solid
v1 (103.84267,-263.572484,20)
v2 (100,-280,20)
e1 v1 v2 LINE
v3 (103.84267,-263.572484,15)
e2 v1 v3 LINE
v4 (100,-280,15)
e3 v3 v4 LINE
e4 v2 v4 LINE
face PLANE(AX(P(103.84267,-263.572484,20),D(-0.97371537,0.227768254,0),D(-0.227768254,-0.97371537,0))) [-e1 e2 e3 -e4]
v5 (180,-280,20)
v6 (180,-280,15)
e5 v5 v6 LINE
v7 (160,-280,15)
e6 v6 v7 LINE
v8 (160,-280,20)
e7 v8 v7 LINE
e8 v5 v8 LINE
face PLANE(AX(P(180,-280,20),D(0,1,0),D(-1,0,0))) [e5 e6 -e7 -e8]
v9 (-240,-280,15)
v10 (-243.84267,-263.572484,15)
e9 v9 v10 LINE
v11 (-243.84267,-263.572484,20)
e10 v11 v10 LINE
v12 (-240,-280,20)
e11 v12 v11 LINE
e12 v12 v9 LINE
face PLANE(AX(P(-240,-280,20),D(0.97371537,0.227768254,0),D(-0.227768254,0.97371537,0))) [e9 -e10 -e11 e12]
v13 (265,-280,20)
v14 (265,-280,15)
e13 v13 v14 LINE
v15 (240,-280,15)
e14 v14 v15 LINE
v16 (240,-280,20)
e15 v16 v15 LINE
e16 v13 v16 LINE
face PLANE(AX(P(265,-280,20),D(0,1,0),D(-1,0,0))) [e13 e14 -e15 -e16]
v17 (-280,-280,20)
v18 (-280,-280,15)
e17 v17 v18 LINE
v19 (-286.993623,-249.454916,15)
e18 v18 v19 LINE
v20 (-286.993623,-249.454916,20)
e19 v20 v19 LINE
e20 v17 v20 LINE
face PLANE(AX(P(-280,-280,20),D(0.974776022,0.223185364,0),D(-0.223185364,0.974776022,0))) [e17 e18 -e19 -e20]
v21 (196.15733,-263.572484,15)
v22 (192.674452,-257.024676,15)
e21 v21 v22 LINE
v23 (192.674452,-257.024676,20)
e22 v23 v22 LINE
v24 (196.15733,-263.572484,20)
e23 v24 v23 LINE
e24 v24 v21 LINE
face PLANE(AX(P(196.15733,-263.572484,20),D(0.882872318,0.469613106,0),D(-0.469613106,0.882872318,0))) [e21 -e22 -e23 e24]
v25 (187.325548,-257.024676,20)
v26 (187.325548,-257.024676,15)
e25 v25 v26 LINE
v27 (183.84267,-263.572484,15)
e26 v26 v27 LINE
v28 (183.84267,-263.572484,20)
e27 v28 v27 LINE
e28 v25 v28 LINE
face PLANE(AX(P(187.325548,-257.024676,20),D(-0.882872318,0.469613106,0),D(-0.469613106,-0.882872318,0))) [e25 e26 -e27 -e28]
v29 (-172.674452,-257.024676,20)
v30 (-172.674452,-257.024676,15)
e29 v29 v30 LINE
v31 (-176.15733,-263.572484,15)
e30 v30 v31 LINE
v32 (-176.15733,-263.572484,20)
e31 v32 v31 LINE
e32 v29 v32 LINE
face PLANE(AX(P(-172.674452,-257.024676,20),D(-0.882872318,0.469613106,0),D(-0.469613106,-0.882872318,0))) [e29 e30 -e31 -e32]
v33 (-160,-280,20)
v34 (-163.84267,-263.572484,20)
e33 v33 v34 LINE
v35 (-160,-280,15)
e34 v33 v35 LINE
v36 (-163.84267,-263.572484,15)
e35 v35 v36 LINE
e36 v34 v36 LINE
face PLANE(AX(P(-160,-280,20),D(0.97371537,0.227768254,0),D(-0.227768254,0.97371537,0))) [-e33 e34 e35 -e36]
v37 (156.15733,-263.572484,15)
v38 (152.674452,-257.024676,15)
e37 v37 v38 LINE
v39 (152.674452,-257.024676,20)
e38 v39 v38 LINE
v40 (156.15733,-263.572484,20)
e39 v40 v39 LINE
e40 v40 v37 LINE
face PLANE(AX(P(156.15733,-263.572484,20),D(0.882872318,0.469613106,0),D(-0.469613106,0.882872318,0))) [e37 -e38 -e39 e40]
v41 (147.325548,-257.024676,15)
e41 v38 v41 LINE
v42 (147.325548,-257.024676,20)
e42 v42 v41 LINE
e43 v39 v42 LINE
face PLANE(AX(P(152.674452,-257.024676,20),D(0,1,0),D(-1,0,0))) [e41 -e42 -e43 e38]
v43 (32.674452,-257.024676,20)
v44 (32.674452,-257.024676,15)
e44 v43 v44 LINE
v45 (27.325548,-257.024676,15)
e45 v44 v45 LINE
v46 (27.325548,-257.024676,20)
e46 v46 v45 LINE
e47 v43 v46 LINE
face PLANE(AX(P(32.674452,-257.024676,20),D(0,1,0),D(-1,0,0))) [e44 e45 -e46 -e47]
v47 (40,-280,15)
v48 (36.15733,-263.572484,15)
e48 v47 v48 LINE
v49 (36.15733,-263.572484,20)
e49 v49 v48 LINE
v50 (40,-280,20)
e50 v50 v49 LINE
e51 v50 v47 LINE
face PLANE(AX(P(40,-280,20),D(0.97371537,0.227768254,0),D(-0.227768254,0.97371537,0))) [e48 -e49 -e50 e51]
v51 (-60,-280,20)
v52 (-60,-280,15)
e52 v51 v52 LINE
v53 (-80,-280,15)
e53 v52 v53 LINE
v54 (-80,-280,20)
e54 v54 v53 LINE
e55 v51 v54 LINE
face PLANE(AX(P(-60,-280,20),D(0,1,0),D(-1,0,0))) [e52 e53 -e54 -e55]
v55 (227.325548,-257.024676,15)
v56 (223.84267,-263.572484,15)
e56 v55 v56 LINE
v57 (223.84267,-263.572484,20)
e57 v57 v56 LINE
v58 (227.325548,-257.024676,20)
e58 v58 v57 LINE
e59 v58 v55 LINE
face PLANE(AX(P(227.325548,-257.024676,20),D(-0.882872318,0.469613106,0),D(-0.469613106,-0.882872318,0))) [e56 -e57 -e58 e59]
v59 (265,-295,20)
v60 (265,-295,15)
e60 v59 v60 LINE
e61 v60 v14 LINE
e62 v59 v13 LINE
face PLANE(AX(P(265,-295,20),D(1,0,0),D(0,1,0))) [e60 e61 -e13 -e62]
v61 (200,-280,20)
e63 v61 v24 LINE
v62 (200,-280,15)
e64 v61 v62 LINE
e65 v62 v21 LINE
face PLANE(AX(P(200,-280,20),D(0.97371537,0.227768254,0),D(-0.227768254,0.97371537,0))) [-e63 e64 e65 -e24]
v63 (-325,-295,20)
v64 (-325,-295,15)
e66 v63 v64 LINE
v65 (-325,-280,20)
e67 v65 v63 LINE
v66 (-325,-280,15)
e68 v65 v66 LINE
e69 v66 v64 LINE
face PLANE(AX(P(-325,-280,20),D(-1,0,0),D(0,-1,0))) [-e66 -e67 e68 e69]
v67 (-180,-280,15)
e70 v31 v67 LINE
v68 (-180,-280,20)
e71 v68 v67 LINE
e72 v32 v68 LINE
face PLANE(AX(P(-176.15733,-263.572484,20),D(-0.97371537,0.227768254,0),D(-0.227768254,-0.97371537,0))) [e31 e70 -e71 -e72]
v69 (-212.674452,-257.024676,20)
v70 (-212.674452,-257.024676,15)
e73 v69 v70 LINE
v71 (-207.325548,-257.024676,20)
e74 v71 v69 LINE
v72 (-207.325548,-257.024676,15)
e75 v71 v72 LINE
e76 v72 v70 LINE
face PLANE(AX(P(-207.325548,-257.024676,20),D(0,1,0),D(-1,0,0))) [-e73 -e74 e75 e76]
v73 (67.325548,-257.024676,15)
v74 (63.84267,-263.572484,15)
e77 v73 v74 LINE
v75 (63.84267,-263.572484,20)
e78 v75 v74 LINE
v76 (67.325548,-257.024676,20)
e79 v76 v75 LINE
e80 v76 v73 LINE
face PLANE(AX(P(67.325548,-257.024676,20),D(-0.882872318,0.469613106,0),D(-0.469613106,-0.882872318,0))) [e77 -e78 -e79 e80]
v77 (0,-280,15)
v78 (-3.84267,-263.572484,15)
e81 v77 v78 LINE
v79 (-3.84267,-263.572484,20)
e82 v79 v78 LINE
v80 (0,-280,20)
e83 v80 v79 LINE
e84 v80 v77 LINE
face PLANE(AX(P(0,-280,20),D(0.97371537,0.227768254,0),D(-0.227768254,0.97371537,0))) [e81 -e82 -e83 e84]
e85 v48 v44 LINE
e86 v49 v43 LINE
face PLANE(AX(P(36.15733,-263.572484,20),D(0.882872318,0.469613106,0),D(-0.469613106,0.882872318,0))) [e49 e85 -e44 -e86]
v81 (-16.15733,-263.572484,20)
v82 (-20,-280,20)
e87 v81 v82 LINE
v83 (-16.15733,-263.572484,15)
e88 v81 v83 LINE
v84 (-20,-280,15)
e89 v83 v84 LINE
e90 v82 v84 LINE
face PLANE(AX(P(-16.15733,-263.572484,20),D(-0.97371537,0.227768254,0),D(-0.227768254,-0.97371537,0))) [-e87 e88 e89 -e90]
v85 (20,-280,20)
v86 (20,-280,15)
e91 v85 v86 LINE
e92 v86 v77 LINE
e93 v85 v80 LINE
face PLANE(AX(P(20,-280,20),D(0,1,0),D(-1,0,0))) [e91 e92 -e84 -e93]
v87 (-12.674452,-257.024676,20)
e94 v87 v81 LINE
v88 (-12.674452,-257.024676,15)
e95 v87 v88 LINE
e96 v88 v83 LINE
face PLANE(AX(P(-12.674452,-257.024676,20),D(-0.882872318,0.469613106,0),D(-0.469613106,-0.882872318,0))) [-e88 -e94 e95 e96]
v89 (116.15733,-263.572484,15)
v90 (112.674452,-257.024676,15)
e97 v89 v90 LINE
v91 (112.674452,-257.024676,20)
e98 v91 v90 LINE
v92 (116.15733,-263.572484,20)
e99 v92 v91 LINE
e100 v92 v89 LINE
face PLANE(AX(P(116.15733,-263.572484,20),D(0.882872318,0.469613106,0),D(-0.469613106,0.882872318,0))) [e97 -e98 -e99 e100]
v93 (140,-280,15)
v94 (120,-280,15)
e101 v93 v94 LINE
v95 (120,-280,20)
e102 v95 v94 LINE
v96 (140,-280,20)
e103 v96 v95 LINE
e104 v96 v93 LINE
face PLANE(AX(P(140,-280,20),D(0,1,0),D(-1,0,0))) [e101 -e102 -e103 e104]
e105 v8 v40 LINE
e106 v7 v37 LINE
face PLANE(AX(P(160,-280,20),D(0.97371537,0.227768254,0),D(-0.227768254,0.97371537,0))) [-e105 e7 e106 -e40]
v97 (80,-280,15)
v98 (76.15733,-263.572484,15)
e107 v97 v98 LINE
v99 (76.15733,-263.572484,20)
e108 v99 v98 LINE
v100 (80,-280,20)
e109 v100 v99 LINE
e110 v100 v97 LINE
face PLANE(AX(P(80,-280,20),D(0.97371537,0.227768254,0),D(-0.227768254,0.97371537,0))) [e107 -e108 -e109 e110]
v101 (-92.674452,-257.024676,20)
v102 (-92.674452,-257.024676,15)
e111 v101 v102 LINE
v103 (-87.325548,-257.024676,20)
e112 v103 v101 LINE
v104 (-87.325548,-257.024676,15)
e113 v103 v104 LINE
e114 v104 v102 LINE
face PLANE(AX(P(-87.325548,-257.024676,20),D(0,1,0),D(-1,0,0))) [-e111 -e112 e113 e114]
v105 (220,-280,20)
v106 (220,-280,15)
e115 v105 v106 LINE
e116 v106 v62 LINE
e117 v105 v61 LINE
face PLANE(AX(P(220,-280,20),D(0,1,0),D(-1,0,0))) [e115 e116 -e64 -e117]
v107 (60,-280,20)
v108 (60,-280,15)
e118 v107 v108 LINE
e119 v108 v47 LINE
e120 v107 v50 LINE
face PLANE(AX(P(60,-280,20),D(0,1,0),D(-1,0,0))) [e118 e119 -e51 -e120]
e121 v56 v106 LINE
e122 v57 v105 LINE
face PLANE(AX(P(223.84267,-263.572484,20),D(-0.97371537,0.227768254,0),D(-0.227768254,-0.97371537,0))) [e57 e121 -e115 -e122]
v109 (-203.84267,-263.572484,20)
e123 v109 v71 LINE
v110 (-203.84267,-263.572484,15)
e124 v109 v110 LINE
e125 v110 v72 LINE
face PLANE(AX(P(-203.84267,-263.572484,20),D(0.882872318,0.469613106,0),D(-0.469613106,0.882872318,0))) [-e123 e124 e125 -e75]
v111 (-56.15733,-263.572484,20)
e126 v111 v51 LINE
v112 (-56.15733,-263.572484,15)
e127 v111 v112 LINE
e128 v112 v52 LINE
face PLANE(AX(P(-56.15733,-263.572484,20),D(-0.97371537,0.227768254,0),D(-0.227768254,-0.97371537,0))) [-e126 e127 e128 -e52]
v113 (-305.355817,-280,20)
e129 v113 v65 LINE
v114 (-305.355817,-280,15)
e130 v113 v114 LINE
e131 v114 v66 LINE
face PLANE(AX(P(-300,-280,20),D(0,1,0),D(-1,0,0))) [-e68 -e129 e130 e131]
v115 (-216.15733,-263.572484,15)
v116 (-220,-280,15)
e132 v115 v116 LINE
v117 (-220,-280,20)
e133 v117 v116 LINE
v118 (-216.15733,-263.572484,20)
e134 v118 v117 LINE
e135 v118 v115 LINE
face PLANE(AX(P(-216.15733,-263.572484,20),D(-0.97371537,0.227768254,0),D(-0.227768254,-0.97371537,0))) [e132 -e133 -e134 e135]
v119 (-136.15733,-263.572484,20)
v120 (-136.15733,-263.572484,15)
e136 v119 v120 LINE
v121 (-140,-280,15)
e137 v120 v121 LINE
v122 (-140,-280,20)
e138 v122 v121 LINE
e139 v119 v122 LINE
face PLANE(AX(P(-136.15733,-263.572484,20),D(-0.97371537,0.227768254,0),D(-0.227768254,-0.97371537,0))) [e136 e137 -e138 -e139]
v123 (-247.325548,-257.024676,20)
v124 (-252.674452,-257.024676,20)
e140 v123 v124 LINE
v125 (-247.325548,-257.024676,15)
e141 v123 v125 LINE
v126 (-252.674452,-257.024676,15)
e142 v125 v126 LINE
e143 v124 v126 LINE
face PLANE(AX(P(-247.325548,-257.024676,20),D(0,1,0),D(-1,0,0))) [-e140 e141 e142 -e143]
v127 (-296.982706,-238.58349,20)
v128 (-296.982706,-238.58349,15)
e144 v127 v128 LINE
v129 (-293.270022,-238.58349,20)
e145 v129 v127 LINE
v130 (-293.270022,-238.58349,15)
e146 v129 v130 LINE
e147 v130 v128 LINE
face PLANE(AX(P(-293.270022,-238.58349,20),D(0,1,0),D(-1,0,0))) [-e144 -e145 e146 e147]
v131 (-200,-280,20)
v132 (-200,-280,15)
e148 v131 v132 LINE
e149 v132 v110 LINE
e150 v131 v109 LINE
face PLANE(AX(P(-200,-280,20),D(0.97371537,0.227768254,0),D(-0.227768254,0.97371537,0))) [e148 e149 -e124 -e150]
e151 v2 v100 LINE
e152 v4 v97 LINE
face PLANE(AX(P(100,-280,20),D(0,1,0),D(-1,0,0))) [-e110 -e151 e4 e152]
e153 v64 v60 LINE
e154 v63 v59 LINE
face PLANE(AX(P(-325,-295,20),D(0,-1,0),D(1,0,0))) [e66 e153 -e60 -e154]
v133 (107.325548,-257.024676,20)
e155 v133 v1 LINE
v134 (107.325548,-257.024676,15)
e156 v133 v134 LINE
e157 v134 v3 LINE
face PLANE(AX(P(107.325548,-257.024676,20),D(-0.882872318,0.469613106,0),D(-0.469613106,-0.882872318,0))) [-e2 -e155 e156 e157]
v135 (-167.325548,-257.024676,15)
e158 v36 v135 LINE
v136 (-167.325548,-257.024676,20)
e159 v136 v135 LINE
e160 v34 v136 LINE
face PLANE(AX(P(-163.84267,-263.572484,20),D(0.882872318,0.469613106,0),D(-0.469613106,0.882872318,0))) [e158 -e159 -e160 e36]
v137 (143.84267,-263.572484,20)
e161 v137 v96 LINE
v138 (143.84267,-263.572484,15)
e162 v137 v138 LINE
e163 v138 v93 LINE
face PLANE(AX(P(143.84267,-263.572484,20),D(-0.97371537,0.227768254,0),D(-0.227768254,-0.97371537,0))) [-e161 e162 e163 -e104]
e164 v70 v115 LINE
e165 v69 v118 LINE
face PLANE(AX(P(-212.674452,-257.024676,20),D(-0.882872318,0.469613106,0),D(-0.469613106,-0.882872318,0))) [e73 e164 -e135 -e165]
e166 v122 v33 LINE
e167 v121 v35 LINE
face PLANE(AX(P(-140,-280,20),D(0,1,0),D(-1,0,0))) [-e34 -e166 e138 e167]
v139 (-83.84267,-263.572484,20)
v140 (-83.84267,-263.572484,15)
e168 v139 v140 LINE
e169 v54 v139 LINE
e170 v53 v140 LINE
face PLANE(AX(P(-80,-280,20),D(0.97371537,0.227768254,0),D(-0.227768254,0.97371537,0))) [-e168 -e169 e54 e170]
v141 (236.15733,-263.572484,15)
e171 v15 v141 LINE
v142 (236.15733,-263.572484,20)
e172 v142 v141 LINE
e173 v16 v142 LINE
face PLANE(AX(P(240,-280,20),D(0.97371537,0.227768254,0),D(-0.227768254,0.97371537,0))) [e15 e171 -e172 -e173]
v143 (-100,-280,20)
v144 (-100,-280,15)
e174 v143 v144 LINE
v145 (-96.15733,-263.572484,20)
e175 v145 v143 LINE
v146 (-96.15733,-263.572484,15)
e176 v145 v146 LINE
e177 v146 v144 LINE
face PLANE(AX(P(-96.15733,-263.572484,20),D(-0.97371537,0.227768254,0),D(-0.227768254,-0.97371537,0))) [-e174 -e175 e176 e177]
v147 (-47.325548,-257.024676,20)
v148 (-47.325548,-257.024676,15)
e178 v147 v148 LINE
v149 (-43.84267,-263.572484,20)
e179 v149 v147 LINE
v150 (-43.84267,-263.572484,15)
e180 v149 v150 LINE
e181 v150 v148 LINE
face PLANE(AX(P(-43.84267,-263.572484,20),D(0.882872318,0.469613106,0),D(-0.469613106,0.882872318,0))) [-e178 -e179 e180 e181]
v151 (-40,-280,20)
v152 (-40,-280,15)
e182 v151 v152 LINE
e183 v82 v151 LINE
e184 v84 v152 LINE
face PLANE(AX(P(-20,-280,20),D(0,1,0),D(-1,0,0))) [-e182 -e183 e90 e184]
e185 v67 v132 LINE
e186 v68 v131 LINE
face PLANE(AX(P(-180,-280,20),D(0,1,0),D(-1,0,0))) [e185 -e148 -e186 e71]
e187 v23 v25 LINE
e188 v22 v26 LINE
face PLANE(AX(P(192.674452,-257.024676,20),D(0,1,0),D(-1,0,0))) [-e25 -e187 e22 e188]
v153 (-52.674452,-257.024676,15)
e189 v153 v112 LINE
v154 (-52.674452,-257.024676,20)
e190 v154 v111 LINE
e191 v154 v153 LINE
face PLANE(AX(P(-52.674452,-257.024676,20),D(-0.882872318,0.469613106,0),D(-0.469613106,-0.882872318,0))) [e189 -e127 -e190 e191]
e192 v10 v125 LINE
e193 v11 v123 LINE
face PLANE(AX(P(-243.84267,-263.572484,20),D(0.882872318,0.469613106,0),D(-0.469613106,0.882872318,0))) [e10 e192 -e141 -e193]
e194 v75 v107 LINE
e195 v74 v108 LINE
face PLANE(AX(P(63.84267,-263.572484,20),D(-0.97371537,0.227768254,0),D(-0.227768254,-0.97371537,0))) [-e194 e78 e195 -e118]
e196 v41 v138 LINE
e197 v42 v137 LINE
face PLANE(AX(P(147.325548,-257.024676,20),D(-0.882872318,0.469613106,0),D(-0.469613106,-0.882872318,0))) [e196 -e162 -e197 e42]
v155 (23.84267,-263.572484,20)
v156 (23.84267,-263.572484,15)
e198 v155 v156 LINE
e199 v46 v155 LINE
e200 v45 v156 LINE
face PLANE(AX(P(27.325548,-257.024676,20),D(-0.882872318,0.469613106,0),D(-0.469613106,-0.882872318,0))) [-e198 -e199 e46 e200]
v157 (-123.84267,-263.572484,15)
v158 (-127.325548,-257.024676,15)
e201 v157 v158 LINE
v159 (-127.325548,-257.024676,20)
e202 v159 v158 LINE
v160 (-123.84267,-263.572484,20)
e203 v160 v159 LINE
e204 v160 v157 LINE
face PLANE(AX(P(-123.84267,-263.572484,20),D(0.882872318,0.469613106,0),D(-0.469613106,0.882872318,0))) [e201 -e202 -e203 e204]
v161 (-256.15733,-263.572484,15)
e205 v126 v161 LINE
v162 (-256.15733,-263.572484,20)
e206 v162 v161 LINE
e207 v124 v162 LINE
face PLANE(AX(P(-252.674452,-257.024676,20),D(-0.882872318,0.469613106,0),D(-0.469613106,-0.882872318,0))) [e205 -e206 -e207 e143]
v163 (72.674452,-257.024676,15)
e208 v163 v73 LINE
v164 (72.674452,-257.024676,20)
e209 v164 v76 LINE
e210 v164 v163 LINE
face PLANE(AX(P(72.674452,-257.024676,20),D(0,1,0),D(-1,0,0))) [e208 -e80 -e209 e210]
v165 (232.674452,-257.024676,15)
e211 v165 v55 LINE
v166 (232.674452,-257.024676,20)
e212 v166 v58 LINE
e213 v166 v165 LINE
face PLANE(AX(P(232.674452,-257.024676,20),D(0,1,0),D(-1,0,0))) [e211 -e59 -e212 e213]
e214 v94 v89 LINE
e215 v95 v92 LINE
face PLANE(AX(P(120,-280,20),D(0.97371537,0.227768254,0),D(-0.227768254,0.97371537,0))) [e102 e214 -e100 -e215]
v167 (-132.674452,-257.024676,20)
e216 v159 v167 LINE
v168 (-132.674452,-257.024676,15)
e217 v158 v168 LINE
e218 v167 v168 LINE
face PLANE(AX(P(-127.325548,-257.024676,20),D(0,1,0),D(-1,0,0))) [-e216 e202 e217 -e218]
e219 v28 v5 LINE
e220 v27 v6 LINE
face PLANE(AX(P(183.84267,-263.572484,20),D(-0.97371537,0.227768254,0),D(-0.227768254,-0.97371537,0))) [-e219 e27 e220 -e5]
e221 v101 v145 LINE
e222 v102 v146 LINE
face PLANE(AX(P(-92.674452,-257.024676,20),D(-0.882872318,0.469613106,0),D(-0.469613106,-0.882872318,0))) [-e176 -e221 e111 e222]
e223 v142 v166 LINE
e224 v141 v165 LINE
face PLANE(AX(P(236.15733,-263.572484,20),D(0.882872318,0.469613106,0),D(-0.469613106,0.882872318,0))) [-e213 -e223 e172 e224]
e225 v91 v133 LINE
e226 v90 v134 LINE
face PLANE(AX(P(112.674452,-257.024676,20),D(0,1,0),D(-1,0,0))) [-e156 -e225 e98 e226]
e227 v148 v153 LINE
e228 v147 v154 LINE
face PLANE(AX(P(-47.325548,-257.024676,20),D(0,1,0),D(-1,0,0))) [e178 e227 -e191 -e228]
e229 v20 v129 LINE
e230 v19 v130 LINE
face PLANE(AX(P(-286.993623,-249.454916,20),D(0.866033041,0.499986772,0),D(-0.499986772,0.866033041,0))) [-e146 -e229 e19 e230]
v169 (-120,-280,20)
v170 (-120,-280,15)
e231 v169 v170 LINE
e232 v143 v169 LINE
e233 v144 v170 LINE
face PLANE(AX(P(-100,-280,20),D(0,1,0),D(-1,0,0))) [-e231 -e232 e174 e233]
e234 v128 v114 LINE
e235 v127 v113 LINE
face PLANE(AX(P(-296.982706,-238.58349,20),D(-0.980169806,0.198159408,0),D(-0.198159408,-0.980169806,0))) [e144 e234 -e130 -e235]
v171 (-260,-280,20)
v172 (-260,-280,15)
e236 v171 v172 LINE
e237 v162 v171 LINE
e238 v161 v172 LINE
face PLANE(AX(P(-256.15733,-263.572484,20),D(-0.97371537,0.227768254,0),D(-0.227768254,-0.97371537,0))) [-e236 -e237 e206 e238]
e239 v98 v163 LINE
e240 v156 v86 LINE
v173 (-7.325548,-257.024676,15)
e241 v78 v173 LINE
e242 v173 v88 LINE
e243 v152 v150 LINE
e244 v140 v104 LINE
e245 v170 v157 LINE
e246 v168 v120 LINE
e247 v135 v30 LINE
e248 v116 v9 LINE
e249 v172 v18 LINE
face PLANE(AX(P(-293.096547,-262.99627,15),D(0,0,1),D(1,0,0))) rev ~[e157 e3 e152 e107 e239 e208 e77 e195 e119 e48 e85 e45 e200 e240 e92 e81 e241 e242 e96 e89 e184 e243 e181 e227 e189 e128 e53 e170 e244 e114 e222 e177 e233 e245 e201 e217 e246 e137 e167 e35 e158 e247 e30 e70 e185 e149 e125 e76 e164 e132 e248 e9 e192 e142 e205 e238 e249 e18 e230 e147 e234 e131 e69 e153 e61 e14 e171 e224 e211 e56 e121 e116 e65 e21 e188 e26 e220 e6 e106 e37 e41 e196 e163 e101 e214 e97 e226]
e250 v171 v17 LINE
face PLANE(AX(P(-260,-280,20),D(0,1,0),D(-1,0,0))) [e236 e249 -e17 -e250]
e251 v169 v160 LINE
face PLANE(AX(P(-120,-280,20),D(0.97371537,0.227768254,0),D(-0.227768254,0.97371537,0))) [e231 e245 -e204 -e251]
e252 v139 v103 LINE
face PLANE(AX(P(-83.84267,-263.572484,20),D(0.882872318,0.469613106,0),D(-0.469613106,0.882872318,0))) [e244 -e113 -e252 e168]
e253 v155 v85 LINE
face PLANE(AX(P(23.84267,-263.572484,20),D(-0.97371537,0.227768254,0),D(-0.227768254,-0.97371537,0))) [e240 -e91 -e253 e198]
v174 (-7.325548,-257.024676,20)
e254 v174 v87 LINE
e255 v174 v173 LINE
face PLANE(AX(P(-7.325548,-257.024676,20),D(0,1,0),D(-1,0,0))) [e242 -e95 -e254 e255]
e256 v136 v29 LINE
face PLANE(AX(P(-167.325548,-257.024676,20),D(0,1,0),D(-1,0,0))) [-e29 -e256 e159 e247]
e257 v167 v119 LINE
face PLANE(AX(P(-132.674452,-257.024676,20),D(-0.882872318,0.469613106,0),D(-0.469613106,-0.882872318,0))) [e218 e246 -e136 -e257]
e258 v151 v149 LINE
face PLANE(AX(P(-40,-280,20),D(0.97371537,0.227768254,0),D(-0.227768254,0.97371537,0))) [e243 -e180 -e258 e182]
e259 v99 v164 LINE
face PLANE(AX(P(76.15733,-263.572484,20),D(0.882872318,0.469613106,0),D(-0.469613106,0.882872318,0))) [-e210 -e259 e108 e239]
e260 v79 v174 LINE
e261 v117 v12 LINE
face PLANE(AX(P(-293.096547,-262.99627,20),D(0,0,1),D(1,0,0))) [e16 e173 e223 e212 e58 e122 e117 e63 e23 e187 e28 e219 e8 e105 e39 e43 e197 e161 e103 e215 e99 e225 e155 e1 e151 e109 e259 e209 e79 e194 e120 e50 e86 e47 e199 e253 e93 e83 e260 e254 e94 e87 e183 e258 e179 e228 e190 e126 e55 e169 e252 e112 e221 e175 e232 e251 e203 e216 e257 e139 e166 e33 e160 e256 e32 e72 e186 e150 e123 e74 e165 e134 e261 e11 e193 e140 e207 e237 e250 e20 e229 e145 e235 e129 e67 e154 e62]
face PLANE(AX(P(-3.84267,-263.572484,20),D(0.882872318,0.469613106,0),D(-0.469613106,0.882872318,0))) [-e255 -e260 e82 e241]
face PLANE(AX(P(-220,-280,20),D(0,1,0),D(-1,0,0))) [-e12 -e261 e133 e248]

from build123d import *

# Parameters (mm, degrees)
F0_W     = 750
F0_H     = 50
F1_DEPTH = 20
F2_W     = 50
F2_H     = 660
F3_DEPTH = 10
F5_DEPTH = 5
F9_DEPTH = 5


with BuildPart() as f1:
    # F0 (on Top) → F1 (new body)
    with BuildSketch(Plane.XY):
        with Locations((0, -305)):
            Rectangle(F0_W, F0_H)
    extrude(amount=F1_DEPTH)


with BuildPart() as f1b:
    # F0 (on Top) → F1, piece 2 (new body)
    with BuildSketch(Plane.XY):
        with Locations((0, 305)):
            Rectangle(F0_W, F0_H)
    extrude(amount=F1_DEPTH)


with BuildPart() as f3:
    # F2 (on face) → F3 (new body)
    with BuildSketch(Plane.XY.offset(20)):
        with Locations((-337.1062517166, 0)):
            Rectangle(F2_W, F2_H)
    extrude(amount=F3_DEPTH)


with BuildPart() as f3b:
    # F2 (on face) → F3, piece 2 (new body)
    with BuildSketch(Plane.XY.offset(20)):
        with Locations((337.1062517166, 0)):
            Rectangle(F2_W, F2_H)
    extrude(amount=F3_DEPTH)


with BuildPart() as f3c:
    # F2 (on face) → F3, piece 3 (new body)
    with BuildSketch(Plane.XY.offset(20)):
        with Locations((-130.3327232599, 0)):
            Rectangle(F2_W, F2_H)
    extrude(amount=F3_DEPTH)


with BuildPart() as f3d:
    # F2 (on face) → F3, piece 4 (new body)
    with BuildSketch(Plane.XY.offset(20)):
        with Locations((130.3327232599, 0)):
            Rectangle(F2_W, F2_H)
    extrude(amount=F3_DEPTH)


with BuildPart() as f5:
    # F4 (on face) → F5 (new body)
    with BuildSketch(Plane.XY.offset(20)):
        Polygon((-296.1573302746, -263.5724842548), (-300, -280), (-280, -280), (-283.8426697254, -263.5724842548), (-287.3255479336, -257.0246756077), (-290, -257.0246756077), (-292.6744520664, -257.0246756077), align=None)
        Polygon((-280, -280), (-300, -280), (-325, -280), (-325, -295), (265, -295), (265, -280), (240, -280), (220, -280), (200, -280), (180, -280), (160, -280), (140, -280), (120, -280), (100, -280), (80, -280), (60, -280), (40, -280), (20, -280), (0, -280), (-20, -280), (-40, -280), (-60, -280), (-80, -280), (-100, -280), (-120, -280), (-140, -280), (-160, -280), (-180, -280), (-200, -280), (-220, -280), (-240, -280), (-260, -280), align=None)
        Polygon((-256.1573302746, -263.5724842548), (-260, -280), (-240, -280), (-243.8426697254, -263.5724842548), (-247.3255479336, -257.0246756077), (-250, -257.0246756077), (-252.6744520664, -257.0246756077), align=None)
        Polygon((-216.1573302746, -263.5724842548), (-220, -280), (-200, -280), (-203.8426697254, -263.5724842548), (-207.3255479336, -257.0246756077), (-210, -257.0246756077), (-212.6744520664, -257.0246756077), align=None)
        Polygon((220, -280), (240, -280), (236.1573302746, -263.5724842548), (232.6744520664, -257.0246756077), (230, -257.0246756077), (227.3255479336, -257.0246756077), (223.8426697254, -263.5724842548), align=None)
        Polygon((-176.1573302746, -263.5724842548), (-180, -280), (-160, -280), (-163.8426697254, -263.5724842548), (-167.3255479336, -257.0246756077), (-170, -257.0246756077), (-172.6744520664, -257.0246756077), align=None)
        Polygon((180, -280), (200, -280), (196.1573302746, -263.5724842548), (192.6744520664, -257.0246756077), (190, -257.0246756077), (187.3255479336, -257.0246756077), (183.8426697254, -263.5724842548), align=None)
        Polygon((-136.1573302746, -263.5724842548), (-140, -280), (-120, -280), (-123.8426697254, -263.5724842548), (-127.3255479336, -257.0246756077), (-130, -257.0246756077), (-132.6744520664, -257.0246756077), align=None)
        Polygon((140, -280), (160, -280), (156.1573302746, -263.5724842548), (152.6744520664, -257.0246756077), (150, -257.0246756077), (147.3255479336, -257.0246756077), (143.8426697254, -263.5724842548), align=None)
        Polygon((-96.1573302746, -263.5724842548), (-100, -280), (-80, -280), (-83.8426697254, -263.5724842548), (-87.3255479336, -257.0246756077), (-90, -257.0246756077), (-92.6744520664, -257.0246756077), align=None)
        Polygon((100, -280), (120, -280), (116.1573302746, -263.5724842548), (112.6744520664, -257.0246756077), (110, -257.0246756077), (107.3255479336, -257.0246756077), (103.8426697254, -263.5724842548), align=None)
        Polygon((-56.1573302746, -263.5724842548), (-60, -280), (-40, -280), (-43.8426697254, -263.5724842548), (-47.3255479336, -257.0246756077), (-50, -257.0246756077), (-52.6744520664, -257.0246756077), align=None)
        Polygon((60, -280), (80, -280), (76.1573302746, -263.5724842548), (72.6744520664, -257.0246756077), (70, -257.0246756077), (67.3255479336, -257.0246756077), (63.8426697254, -263.5724842548), align=None)
        Polygon((-16.1573302746, -263.5724842548), (-20, -280), (0, -280), (-3.8426697254, -263.5724842548), (-7.3255479336, -257.0246756077), (-10, -257.0246756077), (-12.6744520664, -257.0246756077), align=None)
        Polygon((20, -280), (40, -280), (36.1573302746, -263.5724842548), (32.6744520664, -257.0246756077), (30, -257.0246756077), (27.3255479336, -257.0246756077), (23.8426697254, -263.5724842548), align=None)
    extrude(amount=-F5_DEPTH)

    # F8 (on face) → F9 (join)
    with BuildSketch(Plane.XY.offset(20)):
        Polygon((-280, -280), (-286.9936227798, -249.4549155235), (-293.270021677, -238.5834902525), (-296.9827055931, -238.5834902525), (-305.3558170795, -280), align=None)
    extrude(amount=-F9_DEPTH)


with BuildPart() as f5b:
    # F4 (on face) → F5, piece 2 (new body)
    with BuildSketch(Plane.XY.offset(20)):
        Polygon((-280, 280), (-300, 280), (-296.1573302746, 263.5724842548), (-292.6744520664, 257.0246756077), (-290, 257.0246756077), (-287.3255479336, 257.0246756077), (-283.8426697254, 263.5724842548), align=None)
        Polygon((-325, 280), (-300, 280), (-280, 280), (-260, 280), (-240, 280), (-220, 280), (-200, 280), (-180, 280), (-160, 280), (-140, 280), (-120, 280), (-100, 280), (-80, 280), (-60, 280), (-40, 280), (-20, 280), (0, 280), (20, 280), (40, 280), (60, 280), (80, 280), (100, 280), (120, 280), (140, 280), (160, 280), (180, 280), (200, 280), (220, 280), (240, 280), (265, 280), (265, 305), (-325, 305), align=None)
        Polygon((-240, 280), (-260, 280), (-256.1573302746, 263.5724842548), (-252.6744520664, 257.0246756077), (-250, 257.0246756077), (-247.3255479336, 257.0246756077), (-243.8426697254, 263.5724842548), align=None)
        Polygon((-200, 280), (-220, 280), (-216.1573302746, 263.5724842548), (-212.6744520664, 257.0246756077), (-210, 257.0246756077), (-207.3255479336, 257.0246756077), (-203.8426697254, 263.5724842548), align=None)
        Polygon((236.1573302746, 263.5724842548), (240, 280), (220, 280), (223.8426697254, 263.5724842548), (227.3255479336, 257.0246756077), (230, 257.0246756077), (232.6744520664, 257.0246756077), align=None)
        Polygon((-160, 280), (-180, 280), (-176.1573302746, 263.5724842548), (-172.6744520664, 257.0246756077), (-170, 257.0246756077), (-167.3255479336, 257.0246756077), (-163.8426697254, 263.5724842548), align=None)
        Polygon((196.1573302746, 263.5724842548), (200, 280), (180, 280), (183.8426697254, 263.5724842548), (187.3255479336, 257.0246756077), (190, 257.0246756077), (192.6744520664, 257.0246756077), align=None)
        Polygon((-120, 280), (-140, 280), (-136.1573302746, 263.5724842548), (-132.6744520664, 257.0246756077), (-130, 257.0246756077), (-127.3255479336, 257.0246756077), (-123.8426697254, 263.5724842548), align=None)
        Polygon((156.1573302746, 263.5724842548), (160, 280), (140, 280), (143.8426697254, 263.5724842548), (147.3255479336, 257.0246756077), (150, 257.0246756077), (152.6744520664, 257.0246756077), align=None)
        Polygon((-80, 280), (-100, 280), (-96.1573302746, 263.5724842548), (-92.6744520664, 257.0246756077), (-90, 257.0246756077), (-87.3255479336, 257.0246756077), (-83.8426697254, 263.5724842548), align=None)
        Polygon((116.1573302746, 263.5724842548), (120, 280), (100, 280), (103.8426697254, 263.5724842548), (107.3255479336, 257.0246756077), (110, 257.0246756077), (112.6744520664, 257.0246756077), align=None)
        Polygon((-40, 280), (-60, 280), (-56.1573302746, 263.5724842548), (-52.6744520664, 257.0246756077), (-50, 257.0246756077), (-47.3255479336, 257.0246756077), (-43.8426697254, 263.5724842548), align=None)
        Polygon((76.1573302746, 263.5724842548), (80, 280), (60, 280), (63.8426697254, 263.5724842548), (67.3255479336, 257.0246756077), (70, 257.0246756077), (72.6744520664, 257.0246756077), align=None)
        Polygon((0, 280), (-20, 280), (-16.1573302746, 263.5724842548), (-12.6744520664, 257.0246756077), (-10, 257.0246756077), (-7.3255479336, 257.0246756077), (-3.8426697254, 263.5724842548), align=None)
        Polygon((36.1573302746, 263.5724842548), (40, 280), (20, 280), (23.8426697254, 263.5724842548), (27.3255479336, 257.0246756077), (30, 257.0246756077), (32.6744520664, 257.0246756077), align=None)
    extrude(amount=-F5_DEPTH)


solid = f5.part
